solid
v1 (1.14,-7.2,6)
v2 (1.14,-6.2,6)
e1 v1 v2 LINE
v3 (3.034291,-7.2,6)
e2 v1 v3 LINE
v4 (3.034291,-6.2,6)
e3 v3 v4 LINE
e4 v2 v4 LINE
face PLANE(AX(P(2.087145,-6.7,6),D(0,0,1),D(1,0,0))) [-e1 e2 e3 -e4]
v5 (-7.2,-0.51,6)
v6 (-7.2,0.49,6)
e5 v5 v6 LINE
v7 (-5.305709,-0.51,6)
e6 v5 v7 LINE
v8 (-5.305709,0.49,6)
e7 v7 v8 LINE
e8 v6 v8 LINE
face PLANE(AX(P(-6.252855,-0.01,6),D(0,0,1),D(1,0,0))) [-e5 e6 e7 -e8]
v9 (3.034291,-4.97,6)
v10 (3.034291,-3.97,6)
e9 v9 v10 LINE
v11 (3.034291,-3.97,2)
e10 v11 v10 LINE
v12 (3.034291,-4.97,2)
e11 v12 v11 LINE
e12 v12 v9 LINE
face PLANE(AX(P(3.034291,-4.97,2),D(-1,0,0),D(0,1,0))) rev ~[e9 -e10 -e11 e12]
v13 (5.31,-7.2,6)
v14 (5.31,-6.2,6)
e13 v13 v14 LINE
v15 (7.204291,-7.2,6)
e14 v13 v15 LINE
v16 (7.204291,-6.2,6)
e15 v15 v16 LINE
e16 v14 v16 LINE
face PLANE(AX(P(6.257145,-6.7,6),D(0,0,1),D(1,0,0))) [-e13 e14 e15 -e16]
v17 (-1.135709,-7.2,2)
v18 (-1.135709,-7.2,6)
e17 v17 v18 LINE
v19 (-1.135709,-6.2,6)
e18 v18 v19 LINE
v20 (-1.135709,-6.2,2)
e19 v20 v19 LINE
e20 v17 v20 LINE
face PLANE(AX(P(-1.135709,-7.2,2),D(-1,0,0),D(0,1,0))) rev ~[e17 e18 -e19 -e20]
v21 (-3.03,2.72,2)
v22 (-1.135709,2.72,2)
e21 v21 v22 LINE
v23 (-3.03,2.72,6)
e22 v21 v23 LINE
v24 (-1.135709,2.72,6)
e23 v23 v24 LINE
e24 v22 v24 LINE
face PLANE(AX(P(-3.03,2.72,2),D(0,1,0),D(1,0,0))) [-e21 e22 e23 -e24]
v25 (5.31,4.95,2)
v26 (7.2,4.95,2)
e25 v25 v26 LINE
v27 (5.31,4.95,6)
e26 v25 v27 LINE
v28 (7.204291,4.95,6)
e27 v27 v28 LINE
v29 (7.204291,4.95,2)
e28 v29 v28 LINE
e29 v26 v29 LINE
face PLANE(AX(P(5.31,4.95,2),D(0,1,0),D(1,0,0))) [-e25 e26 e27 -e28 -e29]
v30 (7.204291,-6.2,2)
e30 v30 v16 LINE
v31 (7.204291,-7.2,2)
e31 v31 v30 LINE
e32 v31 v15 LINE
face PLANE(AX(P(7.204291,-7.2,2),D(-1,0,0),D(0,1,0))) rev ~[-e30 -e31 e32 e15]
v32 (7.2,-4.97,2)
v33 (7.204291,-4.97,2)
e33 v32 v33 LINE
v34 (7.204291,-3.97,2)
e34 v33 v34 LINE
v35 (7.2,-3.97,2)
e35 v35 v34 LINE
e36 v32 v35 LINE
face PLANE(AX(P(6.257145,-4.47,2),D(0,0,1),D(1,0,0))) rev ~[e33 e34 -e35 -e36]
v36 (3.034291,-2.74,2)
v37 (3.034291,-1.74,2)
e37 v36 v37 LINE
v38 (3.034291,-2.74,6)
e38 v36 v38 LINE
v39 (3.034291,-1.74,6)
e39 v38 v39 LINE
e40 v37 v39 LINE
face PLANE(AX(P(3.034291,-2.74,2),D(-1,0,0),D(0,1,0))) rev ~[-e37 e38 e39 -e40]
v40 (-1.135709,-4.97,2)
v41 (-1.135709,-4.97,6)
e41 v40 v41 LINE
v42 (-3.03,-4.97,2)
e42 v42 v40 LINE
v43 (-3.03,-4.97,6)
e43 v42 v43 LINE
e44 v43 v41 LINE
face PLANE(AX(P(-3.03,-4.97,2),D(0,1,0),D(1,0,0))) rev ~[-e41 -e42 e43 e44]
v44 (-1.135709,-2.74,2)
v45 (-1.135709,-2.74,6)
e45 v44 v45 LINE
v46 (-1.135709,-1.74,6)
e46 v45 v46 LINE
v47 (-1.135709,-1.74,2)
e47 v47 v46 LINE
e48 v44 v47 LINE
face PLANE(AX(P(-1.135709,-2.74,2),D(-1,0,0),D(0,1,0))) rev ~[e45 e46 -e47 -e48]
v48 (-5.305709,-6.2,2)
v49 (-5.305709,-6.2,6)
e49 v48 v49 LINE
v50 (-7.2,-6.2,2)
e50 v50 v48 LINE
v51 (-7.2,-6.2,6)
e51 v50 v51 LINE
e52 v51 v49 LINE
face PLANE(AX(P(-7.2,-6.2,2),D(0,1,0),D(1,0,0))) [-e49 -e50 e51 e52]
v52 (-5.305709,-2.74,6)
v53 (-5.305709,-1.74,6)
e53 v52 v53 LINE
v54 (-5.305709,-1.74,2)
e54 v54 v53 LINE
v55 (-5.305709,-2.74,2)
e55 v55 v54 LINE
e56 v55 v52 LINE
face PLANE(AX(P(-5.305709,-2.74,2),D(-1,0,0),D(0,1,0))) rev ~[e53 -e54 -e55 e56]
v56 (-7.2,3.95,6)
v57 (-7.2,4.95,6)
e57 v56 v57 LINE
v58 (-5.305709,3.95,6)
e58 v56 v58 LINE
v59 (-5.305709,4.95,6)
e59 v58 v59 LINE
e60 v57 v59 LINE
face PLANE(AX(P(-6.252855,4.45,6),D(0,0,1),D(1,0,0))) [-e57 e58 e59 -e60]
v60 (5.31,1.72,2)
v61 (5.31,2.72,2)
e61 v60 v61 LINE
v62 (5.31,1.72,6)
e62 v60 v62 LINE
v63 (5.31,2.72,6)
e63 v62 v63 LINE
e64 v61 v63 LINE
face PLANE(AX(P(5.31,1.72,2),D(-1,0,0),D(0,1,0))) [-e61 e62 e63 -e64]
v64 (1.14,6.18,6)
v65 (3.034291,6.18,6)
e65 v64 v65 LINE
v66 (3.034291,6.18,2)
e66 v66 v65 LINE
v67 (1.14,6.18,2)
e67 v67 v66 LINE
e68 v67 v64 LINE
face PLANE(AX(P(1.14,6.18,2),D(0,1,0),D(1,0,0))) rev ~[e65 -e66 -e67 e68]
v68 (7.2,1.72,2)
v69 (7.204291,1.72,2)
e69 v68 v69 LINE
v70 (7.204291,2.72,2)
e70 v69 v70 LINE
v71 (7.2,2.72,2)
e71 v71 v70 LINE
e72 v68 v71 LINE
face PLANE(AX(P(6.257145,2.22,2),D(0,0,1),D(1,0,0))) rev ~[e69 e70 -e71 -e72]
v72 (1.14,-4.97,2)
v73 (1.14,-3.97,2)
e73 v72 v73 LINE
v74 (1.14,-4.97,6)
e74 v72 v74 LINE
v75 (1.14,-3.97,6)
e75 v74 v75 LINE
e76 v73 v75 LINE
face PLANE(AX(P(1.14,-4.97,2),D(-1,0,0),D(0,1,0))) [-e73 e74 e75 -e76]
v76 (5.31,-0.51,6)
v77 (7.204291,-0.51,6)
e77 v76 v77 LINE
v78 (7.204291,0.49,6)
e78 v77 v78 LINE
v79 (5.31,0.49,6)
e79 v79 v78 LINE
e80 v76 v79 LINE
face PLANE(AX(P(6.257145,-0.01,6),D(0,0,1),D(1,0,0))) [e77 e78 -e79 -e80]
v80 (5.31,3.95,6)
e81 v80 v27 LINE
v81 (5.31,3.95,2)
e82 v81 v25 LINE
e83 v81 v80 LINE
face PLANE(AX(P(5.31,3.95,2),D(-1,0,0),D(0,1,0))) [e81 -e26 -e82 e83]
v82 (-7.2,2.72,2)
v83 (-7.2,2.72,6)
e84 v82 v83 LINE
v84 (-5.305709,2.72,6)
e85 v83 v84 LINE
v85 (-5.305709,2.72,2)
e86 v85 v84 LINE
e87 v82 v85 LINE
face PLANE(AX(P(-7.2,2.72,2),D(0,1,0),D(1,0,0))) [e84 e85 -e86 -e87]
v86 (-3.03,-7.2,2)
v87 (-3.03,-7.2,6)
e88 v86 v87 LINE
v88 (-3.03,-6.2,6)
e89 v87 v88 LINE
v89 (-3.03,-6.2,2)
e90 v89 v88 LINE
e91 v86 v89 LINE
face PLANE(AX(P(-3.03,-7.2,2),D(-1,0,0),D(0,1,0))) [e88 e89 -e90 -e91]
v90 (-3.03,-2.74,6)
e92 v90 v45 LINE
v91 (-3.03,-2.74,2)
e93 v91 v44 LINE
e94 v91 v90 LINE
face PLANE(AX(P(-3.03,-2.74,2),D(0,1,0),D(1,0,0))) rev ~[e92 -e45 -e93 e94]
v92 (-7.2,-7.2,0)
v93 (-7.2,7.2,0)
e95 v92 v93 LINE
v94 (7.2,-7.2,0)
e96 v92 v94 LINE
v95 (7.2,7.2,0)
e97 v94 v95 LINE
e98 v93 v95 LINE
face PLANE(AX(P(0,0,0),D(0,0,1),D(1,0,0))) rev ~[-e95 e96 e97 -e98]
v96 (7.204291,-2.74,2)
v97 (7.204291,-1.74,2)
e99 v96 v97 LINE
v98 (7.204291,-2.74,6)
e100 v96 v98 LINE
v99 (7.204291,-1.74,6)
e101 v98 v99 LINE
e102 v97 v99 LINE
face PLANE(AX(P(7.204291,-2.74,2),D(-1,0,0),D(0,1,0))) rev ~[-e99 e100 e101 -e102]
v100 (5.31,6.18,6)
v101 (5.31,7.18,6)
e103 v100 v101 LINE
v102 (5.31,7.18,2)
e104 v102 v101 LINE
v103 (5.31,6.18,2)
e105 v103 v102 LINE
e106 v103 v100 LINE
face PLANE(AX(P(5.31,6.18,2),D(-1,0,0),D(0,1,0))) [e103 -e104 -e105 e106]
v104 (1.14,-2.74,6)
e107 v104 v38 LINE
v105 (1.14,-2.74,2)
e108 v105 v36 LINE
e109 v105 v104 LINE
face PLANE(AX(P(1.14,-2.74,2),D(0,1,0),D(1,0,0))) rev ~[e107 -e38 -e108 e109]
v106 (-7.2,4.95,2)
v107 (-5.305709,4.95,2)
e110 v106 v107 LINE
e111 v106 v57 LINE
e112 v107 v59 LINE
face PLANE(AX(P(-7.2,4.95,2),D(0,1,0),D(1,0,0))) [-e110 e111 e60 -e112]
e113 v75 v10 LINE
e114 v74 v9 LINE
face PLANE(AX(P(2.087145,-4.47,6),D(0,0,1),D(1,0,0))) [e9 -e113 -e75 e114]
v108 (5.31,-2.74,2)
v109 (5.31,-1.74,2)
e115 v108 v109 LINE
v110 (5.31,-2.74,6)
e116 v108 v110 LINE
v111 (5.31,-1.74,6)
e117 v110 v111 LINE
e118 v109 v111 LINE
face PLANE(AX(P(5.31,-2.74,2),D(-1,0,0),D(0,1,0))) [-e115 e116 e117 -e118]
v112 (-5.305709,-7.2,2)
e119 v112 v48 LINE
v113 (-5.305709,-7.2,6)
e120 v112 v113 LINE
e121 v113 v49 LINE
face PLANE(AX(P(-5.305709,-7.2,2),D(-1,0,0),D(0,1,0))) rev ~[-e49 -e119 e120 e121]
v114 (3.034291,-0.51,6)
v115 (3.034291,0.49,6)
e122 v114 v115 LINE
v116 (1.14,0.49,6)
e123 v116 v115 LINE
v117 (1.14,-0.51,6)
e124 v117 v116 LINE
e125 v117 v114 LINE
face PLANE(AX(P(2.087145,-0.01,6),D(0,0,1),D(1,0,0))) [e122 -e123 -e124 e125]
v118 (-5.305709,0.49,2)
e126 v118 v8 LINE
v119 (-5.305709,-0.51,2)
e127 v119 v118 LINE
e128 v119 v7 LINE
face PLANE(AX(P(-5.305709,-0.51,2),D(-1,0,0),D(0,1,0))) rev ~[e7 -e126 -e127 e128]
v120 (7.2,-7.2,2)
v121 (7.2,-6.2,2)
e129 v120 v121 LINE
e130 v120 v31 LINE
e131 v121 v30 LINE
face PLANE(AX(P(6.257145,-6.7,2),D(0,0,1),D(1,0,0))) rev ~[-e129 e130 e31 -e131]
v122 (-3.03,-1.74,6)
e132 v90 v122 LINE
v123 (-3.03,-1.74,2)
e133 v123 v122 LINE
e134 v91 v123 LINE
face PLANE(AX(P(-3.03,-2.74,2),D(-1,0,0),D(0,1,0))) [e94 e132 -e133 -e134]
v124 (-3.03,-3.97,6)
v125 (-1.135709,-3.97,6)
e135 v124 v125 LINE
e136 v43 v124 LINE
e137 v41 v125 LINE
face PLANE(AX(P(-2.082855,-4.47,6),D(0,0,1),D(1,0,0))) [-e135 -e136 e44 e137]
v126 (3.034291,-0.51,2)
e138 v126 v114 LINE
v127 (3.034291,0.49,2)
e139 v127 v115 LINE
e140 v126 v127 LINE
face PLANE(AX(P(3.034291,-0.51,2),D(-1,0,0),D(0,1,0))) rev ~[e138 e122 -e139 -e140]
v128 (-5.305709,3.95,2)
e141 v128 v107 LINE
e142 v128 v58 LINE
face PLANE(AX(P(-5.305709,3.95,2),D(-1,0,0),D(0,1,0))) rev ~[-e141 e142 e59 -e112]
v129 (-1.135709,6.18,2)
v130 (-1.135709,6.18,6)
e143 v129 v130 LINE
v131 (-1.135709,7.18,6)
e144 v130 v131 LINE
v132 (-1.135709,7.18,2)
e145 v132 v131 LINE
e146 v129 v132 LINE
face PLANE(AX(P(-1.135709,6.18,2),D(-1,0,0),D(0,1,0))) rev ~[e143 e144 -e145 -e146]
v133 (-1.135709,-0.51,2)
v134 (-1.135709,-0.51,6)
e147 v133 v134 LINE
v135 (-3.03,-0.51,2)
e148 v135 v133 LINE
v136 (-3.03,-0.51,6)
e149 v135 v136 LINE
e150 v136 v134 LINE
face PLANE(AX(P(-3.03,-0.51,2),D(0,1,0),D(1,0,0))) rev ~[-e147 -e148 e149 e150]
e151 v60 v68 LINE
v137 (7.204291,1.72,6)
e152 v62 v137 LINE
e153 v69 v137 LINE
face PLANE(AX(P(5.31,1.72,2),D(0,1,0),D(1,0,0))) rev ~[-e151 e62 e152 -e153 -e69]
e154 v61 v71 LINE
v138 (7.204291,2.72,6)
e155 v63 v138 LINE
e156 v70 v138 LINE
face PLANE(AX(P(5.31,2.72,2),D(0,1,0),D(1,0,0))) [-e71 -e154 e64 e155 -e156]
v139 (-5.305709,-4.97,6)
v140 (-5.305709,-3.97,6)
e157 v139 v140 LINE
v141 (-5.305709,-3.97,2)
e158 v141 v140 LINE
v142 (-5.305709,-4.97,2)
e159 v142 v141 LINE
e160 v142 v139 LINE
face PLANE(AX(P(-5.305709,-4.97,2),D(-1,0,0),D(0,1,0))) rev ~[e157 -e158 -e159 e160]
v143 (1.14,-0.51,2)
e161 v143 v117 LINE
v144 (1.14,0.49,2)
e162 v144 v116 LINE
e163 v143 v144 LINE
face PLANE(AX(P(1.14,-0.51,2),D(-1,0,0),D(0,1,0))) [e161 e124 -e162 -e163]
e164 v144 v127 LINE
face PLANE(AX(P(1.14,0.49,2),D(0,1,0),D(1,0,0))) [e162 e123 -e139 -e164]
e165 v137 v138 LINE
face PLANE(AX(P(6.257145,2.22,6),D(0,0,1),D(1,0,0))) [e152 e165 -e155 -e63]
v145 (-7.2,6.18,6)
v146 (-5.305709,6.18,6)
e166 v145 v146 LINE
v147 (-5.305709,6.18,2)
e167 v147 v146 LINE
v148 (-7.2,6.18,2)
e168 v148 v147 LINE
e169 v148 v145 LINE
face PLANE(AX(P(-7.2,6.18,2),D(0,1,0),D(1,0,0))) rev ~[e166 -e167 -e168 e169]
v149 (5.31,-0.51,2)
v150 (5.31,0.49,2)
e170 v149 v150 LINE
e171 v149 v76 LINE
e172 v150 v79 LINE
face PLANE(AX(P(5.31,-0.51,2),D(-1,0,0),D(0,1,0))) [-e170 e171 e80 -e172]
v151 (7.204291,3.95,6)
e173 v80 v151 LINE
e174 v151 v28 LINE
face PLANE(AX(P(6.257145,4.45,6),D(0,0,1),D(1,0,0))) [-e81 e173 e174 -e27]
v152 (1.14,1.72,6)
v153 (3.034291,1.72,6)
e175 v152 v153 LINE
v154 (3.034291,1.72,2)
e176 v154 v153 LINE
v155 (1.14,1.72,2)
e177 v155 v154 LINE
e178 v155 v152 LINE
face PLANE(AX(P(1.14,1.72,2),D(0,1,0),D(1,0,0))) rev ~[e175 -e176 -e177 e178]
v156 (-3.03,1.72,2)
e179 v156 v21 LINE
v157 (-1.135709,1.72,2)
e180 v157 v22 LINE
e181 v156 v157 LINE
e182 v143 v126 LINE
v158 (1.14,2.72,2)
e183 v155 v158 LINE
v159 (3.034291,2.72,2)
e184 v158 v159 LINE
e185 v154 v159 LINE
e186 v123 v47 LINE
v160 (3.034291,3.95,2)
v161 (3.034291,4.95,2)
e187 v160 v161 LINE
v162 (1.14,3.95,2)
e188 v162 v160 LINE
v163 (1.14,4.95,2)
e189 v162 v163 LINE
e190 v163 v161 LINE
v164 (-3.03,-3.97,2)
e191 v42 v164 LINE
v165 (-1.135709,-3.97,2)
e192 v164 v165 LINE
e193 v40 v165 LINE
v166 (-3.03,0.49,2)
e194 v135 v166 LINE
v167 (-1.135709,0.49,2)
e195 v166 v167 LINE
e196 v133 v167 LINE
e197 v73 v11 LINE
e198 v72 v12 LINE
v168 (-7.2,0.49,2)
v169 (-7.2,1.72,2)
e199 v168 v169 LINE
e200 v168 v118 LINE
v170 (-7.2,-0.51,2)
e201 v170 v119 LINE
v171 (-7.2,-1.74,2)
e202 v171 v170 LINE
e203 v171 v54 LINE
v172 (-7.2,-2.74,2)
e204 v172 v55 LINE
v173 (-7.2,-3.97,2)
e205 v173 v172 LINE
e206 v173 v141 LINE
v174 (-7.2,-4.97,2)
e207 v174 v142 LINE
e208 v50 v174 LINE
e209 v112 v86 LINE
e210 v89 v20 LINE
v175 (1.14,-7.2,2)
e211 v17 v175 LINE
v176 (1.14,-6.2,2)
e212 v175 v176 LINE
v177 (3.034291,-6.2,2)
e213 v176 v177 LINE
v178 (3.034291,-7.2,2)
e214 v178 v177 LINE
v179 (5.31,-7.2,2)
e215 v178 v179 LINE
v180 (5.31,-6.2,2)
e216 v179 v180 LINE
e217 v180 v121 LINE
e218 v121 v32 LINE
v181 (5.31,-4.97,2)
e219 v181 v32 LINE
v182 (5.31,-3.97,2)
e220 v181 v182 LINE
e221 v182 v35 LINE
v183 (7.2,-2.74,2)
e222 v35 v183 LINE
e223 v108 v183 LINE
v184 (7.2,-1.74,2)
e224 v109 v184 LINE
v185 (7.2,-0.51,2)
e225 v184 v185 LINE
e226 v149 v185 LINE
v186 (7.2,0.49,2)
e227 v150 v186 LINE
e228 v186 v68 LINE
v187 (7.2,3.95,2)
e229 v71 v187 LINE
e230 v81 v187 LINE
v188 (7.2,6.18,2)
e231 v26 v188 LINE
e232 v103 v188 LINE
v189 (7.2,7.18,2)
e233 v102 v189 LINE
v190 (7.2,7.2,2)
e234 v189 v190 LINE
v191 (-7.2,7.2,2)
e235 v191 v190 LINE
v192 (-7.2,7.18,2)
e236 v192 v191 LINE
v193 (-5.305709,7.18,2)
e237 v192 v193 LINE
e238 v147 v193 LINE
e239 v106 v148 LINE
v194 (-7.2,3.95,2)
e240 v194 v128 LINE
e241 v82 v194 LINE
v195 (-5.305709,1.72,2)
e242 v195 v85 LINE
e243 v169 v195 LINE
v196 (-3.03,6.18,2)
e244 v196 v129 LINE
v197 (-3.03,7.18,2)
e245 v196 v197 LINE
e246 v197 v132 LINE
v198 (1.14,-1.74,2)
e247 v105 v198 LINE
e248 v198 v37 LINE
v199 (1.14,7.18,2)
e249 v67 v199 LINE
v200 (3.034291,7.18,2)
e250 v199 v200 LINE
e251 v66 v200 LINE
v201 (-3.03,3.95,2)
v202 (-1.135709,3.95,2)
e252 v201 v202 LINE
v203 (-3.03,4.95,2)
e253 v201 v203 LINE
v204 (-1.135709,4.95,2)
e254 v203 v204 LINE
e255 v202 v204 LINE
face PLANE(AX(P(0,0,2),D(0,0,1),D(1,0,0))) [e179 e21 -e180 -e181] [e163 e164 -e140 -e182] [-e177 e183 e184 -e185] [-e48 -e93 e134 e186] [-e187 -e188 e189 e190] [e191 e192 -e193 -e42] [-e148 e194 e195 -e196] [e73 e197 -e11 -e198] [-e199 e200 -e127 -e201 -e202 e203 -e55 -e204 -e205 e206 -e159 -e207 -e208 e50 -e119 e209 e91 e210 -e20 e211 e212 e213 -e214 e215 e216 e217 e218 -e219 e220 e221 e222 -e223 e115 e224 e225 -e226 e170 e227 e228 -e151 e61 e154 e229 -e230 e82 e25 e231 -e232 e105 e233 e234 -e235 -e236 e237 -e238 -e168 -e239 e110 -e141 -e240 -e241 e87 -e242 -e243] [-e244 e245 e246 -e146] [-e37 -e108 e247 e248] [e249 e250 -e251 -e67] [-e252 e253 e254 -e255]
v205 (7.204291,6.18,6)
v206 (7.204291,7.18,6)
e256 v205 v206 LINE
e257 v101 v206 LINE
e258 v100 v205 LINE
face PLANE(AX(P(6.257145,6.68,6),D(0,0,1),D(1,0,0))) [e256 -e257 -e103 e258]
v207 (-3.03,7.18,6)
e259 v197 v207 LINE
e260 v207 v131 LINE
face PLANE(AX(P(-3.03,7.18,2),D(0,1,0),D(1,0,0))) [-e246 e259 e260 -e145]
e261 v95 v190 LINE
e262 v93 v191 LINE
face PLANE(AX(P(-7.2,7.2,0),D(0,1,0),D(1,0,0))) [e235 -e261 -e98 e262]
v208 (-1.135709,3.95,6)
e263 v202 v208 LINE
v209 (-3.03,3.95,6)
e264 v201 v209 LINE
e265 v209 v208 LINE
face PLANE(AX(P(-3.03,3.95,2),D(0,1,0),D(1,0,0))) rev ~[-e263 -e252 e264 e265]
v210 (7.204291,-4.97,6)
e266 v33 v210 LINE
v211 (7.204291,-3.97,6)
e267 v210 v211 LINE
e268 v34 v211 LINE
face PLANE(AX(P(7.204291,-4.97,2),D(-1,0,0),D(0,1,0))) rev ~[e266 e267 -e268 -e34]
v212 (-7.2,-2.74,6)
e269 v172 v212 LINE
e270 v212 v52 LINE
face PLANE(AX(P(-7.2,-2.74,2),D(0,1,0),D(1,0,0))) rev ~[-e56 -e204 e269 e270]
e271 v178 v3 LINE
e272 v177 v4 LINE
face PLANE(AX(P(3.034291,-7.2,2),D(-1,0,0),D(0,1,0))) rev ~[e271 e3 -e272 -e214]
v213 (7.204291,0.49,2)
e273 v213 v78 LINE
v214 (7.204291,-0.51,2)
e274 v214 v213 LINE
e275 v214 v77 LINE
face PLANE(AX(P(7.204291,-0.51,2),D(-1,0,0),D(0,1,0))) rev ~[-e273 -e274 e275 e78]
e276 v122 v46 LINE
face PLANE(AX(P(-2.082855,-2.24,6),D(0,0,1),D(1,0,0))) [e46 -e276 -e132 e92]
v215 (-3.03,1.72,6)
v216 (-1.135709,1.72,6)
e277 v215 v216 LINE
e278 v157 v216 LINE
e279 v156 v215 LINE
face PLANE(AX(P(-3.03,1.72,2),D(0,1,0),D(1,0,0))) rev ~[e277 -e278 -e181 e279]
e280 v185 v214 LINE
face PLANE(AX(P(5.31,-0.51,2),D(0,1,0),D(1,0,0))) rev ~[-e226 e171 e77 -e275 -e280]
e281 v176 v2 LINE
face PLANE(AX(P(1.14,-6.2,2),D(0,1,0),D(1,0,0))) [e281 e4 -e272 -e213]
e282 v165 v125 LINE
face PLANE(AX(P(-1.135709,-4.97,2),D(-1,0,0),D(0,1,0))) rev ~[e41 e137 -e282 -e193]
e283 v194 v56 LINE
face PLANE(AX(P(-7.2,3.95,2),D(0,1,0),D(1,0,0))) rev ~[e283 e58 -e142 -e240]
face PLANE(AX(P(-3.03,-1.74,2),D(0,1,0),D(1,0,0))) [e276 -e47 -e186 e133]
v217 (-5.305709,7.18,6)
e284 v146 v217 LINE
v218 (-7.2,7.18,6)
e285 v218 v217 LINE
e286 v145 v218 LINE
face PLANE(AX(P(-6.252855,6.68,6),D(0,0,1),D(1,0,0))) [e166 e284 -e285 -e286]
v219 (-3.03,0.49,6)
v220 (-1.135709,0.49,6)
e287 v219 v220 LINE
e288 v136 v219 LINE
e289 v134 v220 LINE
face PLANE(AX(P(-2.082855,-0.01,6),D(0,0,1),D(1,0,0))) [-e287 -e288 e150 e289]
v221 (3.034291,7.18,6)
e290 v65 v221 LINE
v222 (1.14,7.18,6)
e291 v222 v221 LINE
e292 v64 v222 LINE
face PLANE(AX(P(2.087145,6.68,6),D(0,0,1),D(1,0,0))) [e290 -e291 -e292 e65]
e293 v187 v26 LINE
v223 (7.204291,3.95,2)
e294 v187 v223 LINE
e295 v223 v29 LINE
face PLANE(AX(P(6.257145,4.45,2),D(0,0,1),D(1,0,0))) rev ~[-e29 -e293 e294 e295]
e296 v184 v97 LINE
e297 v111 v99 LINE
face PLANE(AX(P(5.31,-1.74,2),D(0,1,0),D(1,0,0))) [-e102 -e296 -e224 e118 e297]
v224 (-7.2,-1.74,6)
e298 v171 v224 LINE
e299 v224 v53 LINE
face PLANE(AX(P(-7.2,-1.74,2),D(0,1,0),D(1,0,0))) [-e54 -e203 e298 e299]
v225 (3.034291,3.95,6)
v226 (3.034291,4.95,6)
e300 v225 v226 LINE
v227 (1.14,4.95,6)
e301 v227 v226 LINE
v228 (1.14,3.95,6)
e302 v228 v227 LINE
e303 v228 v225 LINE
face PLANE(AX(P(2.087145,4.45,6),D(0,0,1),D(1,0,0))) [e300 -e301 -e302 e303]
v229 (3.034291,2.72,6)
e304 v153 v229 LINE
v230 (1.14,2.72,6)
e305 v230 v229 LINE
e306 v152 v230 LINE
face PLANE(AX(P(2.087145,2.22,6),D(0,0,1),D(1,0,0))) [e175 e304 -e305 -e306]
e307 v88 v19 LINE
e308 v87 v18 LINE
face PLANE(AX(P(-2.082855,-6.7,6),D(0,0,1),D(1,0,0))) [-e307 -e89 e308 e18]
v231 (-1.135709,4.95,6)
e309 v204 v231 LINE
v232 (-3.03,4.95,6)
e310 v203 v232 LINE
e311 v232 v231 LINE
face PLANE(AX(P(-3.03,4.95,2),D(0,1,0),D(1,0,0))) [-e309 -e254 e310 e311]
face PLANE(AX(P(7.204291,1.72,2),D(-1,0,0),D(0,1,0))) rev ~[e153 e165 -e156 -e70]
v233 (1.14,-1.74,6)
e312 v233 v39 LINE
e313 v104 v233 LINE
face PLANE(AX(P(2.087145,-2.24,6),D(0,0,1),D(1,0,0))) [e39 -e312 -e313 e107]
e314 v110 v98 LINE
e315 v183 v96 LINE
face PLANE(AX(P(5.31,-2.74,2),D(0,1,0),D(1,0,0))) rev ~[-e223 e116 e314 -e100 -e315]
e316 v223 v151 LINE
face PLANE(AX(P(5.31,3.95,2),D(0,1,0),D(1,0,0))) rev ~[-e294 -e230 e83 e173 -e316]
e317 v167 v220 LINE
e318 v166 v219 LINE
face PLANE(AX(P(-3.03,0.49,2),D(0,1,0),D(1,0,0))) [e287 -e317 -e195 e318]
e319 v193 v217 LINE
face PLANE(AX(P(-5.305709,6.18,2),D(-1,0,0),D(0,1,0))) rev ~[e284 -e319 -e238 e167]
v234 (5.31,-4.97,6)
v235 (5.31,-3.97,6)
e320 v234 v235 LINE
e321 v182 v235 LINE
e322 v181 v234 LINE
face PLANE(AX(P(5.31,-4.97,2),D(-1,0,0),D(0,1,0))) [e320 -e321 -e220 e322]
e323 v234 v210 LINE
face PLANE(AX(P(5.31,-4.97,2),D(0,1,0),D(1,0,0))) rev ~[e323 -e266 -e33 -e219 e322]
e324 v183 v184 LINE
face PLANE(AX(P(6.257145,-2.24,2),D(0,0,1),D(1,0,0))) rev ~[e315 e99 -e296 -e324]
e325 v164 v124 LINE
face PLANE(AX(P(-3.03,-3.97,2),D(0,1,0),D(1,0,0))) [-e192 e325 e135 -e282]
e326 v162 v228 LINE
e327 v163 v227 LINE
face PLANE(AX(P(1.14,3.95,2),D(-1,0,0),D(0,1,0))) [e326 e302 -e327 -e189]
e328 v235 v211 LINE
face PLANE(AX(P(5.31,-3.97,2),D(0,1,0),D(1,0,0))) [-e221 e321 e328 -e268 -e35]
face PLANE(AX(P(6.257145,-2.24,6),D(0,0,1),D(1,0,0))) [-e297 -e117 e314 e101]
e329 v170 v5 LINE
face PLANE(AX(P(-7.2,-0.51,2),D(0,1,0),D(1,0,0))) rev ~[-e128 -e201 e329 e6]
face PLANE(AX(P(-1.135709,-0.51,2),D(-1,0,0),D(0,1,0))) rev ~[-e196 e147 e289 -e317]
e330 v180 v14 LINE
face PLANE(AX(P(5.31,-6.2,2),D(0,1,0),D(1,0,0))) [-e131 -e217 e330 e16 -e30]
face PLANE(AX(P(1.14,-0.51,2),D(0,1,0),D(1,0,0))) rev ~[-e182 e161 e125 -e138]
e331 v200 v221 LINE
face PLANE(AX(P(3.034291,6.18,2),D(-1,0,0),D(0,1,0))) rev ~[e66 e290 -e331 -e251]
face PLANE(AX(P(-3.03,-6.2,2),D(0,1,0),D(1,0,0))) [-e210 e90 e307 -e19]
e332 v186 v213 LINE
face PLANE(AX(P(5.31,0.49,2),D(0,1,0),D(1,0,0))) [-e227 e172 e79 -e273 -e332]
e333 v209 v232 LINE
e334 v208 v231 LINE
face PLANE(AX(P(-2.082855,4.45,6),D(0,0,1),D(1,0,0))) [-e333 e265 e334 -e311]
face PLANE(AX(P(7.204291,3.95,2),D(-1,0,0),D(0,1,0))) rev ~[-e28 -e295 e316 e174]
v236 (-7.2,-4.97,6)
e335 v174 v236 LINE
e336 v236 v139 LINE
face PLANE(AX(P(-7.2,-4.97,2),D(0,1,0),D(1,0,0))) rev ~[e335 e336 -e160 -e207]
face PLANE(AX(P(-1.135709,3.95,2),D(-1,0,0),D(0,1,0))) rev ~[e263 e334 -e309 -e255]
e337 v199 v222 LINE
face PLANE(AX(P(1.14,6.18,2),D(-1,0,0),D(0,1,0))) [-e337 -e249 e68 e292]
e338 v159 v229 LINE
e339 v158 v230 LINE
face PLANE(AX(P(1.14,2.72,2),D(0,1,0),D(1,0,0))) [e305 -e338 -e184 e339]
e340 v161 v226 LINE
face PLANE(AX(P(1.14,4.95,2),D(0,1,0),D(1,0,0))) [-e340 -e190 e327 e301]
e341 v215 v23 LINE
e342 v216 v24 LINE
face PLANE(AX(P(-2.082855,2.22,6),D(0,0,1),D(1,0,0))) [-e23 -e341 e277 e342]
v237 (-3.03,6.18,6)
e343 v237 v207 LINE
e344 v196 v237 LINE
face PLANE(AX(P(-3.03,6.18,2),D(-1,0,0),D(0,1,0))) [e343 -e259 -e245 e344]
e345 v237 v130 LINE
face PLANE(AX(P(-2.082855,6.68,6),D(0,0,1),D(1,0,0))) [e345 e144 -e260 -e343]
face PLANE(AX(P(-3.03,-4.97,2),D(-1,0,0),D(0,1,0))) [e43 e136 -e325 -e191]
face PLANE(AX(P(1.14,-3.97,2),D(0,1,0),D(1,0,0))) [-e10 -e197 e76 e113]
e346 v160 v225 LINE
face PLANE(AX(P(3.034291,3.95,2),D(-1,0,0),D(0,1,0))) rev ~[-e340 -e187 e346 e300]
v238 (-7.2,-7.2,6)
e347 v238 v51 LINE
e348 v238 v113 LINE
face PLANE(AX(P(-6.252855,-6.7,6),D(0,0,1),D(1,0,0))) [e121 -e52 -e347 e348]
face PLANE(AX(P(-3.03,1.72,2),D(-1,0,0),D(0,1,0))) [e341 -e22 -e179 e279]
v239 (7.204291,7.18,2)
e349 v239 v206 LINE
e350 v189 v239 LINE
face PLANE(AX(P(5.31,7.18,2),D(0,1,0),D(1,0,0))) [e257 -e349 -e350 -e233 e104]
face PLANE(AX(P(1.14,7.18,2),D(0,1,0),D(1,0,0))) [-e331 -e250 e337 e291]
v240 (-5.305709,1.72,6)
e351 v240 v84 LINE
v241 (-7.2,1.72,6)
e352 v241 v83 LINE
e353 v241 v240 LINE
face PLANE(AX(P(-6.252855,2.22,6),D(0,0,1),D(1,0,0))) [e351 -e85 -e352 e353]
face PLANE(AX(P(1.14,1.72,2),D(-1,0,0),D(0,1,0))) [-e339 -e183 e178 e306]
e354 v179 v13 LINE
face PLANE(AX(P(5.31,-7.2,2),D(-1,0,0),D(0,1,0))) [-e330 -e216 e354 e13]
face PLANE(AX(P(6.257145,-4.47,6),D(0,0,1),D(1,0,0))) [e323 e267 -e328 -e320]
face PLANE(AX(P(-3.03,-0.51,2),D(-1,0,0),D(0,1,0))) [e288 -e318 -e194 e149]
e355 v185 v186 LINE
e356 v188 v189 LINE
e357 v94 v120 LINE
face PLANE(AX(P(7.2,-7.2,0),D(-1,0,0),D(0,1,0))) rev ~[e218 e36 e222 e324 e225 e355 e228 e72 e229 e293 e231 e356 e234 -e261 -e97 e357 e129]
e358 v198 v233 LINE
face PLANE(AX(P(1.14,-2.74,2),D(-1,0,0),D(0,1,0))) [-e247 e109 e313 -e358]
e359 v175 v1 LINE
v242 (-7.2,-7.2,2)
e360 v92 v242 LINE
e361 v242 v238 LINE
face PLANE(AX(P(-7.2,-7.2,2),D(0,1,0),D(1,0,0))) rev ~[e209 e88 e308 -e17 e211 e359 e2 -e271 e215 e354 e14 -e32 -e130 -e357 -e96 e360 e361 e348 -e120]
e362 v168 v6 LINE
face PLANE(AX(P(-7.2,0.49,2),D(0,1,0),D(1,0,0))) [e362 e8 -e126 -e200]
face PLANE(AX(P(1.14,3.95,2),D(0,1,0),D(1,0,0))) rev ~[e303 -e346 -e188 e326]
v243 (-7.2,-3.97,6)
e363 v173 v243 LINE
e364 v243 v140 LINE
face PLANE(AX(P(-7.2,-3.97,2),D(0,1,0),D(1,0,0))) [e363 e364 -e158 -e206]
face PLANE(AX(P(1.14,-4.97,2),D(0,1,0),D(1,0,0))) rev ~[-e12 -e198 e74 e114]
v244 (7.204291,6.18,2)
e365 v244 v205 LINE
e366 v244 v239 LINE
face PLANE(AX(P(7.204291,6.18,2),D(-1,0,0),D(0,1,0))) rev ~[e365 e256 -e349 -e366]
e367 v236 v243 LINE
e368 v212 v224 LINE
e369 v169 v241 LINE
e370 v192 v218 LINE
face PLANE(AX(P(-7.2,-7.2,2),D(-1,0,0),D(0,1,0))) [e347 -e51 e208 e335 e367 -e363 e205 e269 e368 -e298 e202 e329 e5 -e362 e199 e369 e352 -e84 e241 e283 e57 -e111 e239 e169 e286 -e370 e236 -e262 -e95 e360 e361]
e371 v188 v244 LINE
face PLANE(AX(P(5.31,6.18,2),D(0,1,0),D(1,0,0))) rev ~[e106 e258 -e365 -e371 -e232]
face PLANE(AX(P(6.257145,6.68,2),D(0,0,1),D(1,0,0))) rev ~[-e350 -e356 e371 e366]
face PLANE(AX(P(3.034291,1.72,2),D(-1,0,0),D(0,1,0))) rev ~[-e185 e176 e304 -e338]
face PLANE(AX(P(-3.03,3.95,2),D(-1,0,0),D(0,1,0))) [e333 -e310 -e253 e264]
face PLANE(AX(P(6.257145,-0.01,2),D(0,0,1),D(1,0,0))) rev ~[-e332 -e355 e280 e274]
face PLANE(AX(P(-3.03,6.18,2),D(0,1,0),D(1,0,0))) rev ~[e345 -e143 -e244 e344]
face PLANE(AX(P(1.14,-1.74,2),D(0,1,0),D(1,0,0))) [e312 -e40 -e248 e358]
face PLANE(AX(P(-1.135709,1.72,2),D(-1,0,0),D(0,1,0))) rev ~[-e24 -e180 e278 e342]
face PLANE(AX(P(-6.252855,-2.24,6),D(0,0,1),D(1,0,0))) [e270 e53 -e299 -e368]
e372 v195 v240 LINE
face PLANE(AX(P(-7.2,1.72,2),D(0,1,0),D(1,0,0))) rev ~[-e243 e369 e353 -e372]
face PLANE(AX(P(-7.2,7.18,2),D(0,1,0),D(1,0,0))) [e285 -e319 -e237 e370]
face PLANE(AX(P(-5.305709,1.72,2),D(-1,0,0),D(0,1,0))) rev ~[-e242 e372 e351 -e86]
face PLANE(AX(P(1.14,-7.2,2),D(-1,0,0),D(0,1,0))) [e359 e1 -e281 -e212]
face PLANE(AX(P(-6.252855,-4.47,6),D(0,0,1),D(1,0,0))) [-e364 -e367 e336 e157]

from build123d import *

# Parameters (mm, degrees)
CROQUIS1_W              = 14.4
CROQUIS1_H              = 14.4
SALIENTE_EXTRUIR1_DEPTH = 2
CROQUIS2_W              = 1.894290675
CROQUIS2_H              = 1
SALIENTE_EXTRUIR2_DEPTH = 4


with BuildPart() as part:
    # Croquis1 → Saliente-Extruir1 (new body)
    with BuildSketch(Plane.XY):
        Rectangle(CROQUIS1_W, CROQUIS1_H)
    extrude(amount=SALIENTE_EXTRUIR1_DEPTH)

    # Croquis2 → Saliente-Extruir2 (add)
    with BuildSketch(Plane.XY.offset(2)):
        with Locations((-2.082854662, -6.7)):
            Rectangle(CROQUIS2_W, CROQUIS2_H)
        with Locations((-6.252854663, -6.7)):
            Rectangle(CROQUIS2_W, CROQUIS2_H)
        with Locations((2.087145337, -6.7)):
            Rectangle(CROQUIS2_W, CROQUIS2_H)
        with Locations((6.257145338, -6.7)):
            Rectangle(CROQUIS2_W, CROQUIS2_H)
        with Locations((-2.082854662, -4.47)):
            Rectangle(CROQUIS2_W, CROQUIS2_H)
        with Locations((2.087145337, -4.47)):
            Rectangle(CROQUIS2_W, CROQUIS2_H)
        with Locations((6.257145338, -4.47)):
            Rectangle(CROQUIS2_W, CROQUIS2_H)
        with Locations((-2.082854662, -2.24)):
            Rectangle(CROQUIS2_W, CROQUIS2_H)
        with Locations((2.087145337, -2.24)):
            Rectangle(CROQUIS2_W, CROQUIS2_H)
        with Locations((6.257145338, -2.24)):
            Rectangle(CROQUIS2_W, CROQUIS2_H)
        with Locations((-2.082854662, -0.01)):
            Rectangle(CROQUIS2_W, CROQUIS2_H)
        with Locations((2.087145337, -0.01)):
            Rectangle(CROQUIS2_W, CROQUIS2_H)
        with Locations((6.257145338, -0.01)):
            Rectangle(CROQUIS2_W, CROQUIS2_H)
        with Locations((-2.082854662, 2.22)):
            Rectangle(CROQUIS2_W, CROQUIS2_H)
        with Locations((2.087145337, 2.22)):
            Rectangle(CROQUIS2_W, CROQUIS2_H)
        with Locations((6.257145338, 2.22)):
            Rectangle(CROQUIS2_W, CROQUIS2_H)
        with Locations((-2.082854662, 4.45)):
            Rectangle(CROQUIS2_W, CROQUIS2_H)
        with Locations((2.087145337, 4.45)):
            Rectangle(CROQUIS2_W, CROQUIS2_H)
        with Locations((6.257145338, 4.45)):
            Rectangle(CROQUIS2_W, CROQUIS2_H)
        with Locations((-2.082854662, 6.68)):
            Rectangle(CROQUIS2_W, CROQUIS2_H)
        with Locations((2.087145337, 6.68)):
            Rectangle(CROQUIS2_W, CROQUIS2_H)
        with Locations((6.257145338, 6.68)):
            Rectangle(CROQUIS2_W, CROQUIS2_H)
        with Locations((-6.252854663, -4.47)):
            Rectangle(CROQUIS2_W, CROQUIS2_H)
        with Locations((-6.252854663, -2.24)):
            Rectangle(CROQUIS2_W, CROQUIS2_H)
        with Locations((-6.252854663, -0.01)):
            Rectangle(CROQUIS2_W, CROQUIS2_H)
        with Locations((-6.252854663, 2.22)):
            Rectangle(CROQUIS2_W, CROQUIS2_H)
        with Locations((-6.252854663, 4.45)):
            Rectangle(CROQUIS2_W, CROQUIS2_H)
        with Locations((-6.252854663, 6.68)):
            Rectangle(CROQUIS2_W, CROQUIS2_H)
    extrude(amount=SALIENTE_EXTRUIR2_DEPTH)


solid = part.part
